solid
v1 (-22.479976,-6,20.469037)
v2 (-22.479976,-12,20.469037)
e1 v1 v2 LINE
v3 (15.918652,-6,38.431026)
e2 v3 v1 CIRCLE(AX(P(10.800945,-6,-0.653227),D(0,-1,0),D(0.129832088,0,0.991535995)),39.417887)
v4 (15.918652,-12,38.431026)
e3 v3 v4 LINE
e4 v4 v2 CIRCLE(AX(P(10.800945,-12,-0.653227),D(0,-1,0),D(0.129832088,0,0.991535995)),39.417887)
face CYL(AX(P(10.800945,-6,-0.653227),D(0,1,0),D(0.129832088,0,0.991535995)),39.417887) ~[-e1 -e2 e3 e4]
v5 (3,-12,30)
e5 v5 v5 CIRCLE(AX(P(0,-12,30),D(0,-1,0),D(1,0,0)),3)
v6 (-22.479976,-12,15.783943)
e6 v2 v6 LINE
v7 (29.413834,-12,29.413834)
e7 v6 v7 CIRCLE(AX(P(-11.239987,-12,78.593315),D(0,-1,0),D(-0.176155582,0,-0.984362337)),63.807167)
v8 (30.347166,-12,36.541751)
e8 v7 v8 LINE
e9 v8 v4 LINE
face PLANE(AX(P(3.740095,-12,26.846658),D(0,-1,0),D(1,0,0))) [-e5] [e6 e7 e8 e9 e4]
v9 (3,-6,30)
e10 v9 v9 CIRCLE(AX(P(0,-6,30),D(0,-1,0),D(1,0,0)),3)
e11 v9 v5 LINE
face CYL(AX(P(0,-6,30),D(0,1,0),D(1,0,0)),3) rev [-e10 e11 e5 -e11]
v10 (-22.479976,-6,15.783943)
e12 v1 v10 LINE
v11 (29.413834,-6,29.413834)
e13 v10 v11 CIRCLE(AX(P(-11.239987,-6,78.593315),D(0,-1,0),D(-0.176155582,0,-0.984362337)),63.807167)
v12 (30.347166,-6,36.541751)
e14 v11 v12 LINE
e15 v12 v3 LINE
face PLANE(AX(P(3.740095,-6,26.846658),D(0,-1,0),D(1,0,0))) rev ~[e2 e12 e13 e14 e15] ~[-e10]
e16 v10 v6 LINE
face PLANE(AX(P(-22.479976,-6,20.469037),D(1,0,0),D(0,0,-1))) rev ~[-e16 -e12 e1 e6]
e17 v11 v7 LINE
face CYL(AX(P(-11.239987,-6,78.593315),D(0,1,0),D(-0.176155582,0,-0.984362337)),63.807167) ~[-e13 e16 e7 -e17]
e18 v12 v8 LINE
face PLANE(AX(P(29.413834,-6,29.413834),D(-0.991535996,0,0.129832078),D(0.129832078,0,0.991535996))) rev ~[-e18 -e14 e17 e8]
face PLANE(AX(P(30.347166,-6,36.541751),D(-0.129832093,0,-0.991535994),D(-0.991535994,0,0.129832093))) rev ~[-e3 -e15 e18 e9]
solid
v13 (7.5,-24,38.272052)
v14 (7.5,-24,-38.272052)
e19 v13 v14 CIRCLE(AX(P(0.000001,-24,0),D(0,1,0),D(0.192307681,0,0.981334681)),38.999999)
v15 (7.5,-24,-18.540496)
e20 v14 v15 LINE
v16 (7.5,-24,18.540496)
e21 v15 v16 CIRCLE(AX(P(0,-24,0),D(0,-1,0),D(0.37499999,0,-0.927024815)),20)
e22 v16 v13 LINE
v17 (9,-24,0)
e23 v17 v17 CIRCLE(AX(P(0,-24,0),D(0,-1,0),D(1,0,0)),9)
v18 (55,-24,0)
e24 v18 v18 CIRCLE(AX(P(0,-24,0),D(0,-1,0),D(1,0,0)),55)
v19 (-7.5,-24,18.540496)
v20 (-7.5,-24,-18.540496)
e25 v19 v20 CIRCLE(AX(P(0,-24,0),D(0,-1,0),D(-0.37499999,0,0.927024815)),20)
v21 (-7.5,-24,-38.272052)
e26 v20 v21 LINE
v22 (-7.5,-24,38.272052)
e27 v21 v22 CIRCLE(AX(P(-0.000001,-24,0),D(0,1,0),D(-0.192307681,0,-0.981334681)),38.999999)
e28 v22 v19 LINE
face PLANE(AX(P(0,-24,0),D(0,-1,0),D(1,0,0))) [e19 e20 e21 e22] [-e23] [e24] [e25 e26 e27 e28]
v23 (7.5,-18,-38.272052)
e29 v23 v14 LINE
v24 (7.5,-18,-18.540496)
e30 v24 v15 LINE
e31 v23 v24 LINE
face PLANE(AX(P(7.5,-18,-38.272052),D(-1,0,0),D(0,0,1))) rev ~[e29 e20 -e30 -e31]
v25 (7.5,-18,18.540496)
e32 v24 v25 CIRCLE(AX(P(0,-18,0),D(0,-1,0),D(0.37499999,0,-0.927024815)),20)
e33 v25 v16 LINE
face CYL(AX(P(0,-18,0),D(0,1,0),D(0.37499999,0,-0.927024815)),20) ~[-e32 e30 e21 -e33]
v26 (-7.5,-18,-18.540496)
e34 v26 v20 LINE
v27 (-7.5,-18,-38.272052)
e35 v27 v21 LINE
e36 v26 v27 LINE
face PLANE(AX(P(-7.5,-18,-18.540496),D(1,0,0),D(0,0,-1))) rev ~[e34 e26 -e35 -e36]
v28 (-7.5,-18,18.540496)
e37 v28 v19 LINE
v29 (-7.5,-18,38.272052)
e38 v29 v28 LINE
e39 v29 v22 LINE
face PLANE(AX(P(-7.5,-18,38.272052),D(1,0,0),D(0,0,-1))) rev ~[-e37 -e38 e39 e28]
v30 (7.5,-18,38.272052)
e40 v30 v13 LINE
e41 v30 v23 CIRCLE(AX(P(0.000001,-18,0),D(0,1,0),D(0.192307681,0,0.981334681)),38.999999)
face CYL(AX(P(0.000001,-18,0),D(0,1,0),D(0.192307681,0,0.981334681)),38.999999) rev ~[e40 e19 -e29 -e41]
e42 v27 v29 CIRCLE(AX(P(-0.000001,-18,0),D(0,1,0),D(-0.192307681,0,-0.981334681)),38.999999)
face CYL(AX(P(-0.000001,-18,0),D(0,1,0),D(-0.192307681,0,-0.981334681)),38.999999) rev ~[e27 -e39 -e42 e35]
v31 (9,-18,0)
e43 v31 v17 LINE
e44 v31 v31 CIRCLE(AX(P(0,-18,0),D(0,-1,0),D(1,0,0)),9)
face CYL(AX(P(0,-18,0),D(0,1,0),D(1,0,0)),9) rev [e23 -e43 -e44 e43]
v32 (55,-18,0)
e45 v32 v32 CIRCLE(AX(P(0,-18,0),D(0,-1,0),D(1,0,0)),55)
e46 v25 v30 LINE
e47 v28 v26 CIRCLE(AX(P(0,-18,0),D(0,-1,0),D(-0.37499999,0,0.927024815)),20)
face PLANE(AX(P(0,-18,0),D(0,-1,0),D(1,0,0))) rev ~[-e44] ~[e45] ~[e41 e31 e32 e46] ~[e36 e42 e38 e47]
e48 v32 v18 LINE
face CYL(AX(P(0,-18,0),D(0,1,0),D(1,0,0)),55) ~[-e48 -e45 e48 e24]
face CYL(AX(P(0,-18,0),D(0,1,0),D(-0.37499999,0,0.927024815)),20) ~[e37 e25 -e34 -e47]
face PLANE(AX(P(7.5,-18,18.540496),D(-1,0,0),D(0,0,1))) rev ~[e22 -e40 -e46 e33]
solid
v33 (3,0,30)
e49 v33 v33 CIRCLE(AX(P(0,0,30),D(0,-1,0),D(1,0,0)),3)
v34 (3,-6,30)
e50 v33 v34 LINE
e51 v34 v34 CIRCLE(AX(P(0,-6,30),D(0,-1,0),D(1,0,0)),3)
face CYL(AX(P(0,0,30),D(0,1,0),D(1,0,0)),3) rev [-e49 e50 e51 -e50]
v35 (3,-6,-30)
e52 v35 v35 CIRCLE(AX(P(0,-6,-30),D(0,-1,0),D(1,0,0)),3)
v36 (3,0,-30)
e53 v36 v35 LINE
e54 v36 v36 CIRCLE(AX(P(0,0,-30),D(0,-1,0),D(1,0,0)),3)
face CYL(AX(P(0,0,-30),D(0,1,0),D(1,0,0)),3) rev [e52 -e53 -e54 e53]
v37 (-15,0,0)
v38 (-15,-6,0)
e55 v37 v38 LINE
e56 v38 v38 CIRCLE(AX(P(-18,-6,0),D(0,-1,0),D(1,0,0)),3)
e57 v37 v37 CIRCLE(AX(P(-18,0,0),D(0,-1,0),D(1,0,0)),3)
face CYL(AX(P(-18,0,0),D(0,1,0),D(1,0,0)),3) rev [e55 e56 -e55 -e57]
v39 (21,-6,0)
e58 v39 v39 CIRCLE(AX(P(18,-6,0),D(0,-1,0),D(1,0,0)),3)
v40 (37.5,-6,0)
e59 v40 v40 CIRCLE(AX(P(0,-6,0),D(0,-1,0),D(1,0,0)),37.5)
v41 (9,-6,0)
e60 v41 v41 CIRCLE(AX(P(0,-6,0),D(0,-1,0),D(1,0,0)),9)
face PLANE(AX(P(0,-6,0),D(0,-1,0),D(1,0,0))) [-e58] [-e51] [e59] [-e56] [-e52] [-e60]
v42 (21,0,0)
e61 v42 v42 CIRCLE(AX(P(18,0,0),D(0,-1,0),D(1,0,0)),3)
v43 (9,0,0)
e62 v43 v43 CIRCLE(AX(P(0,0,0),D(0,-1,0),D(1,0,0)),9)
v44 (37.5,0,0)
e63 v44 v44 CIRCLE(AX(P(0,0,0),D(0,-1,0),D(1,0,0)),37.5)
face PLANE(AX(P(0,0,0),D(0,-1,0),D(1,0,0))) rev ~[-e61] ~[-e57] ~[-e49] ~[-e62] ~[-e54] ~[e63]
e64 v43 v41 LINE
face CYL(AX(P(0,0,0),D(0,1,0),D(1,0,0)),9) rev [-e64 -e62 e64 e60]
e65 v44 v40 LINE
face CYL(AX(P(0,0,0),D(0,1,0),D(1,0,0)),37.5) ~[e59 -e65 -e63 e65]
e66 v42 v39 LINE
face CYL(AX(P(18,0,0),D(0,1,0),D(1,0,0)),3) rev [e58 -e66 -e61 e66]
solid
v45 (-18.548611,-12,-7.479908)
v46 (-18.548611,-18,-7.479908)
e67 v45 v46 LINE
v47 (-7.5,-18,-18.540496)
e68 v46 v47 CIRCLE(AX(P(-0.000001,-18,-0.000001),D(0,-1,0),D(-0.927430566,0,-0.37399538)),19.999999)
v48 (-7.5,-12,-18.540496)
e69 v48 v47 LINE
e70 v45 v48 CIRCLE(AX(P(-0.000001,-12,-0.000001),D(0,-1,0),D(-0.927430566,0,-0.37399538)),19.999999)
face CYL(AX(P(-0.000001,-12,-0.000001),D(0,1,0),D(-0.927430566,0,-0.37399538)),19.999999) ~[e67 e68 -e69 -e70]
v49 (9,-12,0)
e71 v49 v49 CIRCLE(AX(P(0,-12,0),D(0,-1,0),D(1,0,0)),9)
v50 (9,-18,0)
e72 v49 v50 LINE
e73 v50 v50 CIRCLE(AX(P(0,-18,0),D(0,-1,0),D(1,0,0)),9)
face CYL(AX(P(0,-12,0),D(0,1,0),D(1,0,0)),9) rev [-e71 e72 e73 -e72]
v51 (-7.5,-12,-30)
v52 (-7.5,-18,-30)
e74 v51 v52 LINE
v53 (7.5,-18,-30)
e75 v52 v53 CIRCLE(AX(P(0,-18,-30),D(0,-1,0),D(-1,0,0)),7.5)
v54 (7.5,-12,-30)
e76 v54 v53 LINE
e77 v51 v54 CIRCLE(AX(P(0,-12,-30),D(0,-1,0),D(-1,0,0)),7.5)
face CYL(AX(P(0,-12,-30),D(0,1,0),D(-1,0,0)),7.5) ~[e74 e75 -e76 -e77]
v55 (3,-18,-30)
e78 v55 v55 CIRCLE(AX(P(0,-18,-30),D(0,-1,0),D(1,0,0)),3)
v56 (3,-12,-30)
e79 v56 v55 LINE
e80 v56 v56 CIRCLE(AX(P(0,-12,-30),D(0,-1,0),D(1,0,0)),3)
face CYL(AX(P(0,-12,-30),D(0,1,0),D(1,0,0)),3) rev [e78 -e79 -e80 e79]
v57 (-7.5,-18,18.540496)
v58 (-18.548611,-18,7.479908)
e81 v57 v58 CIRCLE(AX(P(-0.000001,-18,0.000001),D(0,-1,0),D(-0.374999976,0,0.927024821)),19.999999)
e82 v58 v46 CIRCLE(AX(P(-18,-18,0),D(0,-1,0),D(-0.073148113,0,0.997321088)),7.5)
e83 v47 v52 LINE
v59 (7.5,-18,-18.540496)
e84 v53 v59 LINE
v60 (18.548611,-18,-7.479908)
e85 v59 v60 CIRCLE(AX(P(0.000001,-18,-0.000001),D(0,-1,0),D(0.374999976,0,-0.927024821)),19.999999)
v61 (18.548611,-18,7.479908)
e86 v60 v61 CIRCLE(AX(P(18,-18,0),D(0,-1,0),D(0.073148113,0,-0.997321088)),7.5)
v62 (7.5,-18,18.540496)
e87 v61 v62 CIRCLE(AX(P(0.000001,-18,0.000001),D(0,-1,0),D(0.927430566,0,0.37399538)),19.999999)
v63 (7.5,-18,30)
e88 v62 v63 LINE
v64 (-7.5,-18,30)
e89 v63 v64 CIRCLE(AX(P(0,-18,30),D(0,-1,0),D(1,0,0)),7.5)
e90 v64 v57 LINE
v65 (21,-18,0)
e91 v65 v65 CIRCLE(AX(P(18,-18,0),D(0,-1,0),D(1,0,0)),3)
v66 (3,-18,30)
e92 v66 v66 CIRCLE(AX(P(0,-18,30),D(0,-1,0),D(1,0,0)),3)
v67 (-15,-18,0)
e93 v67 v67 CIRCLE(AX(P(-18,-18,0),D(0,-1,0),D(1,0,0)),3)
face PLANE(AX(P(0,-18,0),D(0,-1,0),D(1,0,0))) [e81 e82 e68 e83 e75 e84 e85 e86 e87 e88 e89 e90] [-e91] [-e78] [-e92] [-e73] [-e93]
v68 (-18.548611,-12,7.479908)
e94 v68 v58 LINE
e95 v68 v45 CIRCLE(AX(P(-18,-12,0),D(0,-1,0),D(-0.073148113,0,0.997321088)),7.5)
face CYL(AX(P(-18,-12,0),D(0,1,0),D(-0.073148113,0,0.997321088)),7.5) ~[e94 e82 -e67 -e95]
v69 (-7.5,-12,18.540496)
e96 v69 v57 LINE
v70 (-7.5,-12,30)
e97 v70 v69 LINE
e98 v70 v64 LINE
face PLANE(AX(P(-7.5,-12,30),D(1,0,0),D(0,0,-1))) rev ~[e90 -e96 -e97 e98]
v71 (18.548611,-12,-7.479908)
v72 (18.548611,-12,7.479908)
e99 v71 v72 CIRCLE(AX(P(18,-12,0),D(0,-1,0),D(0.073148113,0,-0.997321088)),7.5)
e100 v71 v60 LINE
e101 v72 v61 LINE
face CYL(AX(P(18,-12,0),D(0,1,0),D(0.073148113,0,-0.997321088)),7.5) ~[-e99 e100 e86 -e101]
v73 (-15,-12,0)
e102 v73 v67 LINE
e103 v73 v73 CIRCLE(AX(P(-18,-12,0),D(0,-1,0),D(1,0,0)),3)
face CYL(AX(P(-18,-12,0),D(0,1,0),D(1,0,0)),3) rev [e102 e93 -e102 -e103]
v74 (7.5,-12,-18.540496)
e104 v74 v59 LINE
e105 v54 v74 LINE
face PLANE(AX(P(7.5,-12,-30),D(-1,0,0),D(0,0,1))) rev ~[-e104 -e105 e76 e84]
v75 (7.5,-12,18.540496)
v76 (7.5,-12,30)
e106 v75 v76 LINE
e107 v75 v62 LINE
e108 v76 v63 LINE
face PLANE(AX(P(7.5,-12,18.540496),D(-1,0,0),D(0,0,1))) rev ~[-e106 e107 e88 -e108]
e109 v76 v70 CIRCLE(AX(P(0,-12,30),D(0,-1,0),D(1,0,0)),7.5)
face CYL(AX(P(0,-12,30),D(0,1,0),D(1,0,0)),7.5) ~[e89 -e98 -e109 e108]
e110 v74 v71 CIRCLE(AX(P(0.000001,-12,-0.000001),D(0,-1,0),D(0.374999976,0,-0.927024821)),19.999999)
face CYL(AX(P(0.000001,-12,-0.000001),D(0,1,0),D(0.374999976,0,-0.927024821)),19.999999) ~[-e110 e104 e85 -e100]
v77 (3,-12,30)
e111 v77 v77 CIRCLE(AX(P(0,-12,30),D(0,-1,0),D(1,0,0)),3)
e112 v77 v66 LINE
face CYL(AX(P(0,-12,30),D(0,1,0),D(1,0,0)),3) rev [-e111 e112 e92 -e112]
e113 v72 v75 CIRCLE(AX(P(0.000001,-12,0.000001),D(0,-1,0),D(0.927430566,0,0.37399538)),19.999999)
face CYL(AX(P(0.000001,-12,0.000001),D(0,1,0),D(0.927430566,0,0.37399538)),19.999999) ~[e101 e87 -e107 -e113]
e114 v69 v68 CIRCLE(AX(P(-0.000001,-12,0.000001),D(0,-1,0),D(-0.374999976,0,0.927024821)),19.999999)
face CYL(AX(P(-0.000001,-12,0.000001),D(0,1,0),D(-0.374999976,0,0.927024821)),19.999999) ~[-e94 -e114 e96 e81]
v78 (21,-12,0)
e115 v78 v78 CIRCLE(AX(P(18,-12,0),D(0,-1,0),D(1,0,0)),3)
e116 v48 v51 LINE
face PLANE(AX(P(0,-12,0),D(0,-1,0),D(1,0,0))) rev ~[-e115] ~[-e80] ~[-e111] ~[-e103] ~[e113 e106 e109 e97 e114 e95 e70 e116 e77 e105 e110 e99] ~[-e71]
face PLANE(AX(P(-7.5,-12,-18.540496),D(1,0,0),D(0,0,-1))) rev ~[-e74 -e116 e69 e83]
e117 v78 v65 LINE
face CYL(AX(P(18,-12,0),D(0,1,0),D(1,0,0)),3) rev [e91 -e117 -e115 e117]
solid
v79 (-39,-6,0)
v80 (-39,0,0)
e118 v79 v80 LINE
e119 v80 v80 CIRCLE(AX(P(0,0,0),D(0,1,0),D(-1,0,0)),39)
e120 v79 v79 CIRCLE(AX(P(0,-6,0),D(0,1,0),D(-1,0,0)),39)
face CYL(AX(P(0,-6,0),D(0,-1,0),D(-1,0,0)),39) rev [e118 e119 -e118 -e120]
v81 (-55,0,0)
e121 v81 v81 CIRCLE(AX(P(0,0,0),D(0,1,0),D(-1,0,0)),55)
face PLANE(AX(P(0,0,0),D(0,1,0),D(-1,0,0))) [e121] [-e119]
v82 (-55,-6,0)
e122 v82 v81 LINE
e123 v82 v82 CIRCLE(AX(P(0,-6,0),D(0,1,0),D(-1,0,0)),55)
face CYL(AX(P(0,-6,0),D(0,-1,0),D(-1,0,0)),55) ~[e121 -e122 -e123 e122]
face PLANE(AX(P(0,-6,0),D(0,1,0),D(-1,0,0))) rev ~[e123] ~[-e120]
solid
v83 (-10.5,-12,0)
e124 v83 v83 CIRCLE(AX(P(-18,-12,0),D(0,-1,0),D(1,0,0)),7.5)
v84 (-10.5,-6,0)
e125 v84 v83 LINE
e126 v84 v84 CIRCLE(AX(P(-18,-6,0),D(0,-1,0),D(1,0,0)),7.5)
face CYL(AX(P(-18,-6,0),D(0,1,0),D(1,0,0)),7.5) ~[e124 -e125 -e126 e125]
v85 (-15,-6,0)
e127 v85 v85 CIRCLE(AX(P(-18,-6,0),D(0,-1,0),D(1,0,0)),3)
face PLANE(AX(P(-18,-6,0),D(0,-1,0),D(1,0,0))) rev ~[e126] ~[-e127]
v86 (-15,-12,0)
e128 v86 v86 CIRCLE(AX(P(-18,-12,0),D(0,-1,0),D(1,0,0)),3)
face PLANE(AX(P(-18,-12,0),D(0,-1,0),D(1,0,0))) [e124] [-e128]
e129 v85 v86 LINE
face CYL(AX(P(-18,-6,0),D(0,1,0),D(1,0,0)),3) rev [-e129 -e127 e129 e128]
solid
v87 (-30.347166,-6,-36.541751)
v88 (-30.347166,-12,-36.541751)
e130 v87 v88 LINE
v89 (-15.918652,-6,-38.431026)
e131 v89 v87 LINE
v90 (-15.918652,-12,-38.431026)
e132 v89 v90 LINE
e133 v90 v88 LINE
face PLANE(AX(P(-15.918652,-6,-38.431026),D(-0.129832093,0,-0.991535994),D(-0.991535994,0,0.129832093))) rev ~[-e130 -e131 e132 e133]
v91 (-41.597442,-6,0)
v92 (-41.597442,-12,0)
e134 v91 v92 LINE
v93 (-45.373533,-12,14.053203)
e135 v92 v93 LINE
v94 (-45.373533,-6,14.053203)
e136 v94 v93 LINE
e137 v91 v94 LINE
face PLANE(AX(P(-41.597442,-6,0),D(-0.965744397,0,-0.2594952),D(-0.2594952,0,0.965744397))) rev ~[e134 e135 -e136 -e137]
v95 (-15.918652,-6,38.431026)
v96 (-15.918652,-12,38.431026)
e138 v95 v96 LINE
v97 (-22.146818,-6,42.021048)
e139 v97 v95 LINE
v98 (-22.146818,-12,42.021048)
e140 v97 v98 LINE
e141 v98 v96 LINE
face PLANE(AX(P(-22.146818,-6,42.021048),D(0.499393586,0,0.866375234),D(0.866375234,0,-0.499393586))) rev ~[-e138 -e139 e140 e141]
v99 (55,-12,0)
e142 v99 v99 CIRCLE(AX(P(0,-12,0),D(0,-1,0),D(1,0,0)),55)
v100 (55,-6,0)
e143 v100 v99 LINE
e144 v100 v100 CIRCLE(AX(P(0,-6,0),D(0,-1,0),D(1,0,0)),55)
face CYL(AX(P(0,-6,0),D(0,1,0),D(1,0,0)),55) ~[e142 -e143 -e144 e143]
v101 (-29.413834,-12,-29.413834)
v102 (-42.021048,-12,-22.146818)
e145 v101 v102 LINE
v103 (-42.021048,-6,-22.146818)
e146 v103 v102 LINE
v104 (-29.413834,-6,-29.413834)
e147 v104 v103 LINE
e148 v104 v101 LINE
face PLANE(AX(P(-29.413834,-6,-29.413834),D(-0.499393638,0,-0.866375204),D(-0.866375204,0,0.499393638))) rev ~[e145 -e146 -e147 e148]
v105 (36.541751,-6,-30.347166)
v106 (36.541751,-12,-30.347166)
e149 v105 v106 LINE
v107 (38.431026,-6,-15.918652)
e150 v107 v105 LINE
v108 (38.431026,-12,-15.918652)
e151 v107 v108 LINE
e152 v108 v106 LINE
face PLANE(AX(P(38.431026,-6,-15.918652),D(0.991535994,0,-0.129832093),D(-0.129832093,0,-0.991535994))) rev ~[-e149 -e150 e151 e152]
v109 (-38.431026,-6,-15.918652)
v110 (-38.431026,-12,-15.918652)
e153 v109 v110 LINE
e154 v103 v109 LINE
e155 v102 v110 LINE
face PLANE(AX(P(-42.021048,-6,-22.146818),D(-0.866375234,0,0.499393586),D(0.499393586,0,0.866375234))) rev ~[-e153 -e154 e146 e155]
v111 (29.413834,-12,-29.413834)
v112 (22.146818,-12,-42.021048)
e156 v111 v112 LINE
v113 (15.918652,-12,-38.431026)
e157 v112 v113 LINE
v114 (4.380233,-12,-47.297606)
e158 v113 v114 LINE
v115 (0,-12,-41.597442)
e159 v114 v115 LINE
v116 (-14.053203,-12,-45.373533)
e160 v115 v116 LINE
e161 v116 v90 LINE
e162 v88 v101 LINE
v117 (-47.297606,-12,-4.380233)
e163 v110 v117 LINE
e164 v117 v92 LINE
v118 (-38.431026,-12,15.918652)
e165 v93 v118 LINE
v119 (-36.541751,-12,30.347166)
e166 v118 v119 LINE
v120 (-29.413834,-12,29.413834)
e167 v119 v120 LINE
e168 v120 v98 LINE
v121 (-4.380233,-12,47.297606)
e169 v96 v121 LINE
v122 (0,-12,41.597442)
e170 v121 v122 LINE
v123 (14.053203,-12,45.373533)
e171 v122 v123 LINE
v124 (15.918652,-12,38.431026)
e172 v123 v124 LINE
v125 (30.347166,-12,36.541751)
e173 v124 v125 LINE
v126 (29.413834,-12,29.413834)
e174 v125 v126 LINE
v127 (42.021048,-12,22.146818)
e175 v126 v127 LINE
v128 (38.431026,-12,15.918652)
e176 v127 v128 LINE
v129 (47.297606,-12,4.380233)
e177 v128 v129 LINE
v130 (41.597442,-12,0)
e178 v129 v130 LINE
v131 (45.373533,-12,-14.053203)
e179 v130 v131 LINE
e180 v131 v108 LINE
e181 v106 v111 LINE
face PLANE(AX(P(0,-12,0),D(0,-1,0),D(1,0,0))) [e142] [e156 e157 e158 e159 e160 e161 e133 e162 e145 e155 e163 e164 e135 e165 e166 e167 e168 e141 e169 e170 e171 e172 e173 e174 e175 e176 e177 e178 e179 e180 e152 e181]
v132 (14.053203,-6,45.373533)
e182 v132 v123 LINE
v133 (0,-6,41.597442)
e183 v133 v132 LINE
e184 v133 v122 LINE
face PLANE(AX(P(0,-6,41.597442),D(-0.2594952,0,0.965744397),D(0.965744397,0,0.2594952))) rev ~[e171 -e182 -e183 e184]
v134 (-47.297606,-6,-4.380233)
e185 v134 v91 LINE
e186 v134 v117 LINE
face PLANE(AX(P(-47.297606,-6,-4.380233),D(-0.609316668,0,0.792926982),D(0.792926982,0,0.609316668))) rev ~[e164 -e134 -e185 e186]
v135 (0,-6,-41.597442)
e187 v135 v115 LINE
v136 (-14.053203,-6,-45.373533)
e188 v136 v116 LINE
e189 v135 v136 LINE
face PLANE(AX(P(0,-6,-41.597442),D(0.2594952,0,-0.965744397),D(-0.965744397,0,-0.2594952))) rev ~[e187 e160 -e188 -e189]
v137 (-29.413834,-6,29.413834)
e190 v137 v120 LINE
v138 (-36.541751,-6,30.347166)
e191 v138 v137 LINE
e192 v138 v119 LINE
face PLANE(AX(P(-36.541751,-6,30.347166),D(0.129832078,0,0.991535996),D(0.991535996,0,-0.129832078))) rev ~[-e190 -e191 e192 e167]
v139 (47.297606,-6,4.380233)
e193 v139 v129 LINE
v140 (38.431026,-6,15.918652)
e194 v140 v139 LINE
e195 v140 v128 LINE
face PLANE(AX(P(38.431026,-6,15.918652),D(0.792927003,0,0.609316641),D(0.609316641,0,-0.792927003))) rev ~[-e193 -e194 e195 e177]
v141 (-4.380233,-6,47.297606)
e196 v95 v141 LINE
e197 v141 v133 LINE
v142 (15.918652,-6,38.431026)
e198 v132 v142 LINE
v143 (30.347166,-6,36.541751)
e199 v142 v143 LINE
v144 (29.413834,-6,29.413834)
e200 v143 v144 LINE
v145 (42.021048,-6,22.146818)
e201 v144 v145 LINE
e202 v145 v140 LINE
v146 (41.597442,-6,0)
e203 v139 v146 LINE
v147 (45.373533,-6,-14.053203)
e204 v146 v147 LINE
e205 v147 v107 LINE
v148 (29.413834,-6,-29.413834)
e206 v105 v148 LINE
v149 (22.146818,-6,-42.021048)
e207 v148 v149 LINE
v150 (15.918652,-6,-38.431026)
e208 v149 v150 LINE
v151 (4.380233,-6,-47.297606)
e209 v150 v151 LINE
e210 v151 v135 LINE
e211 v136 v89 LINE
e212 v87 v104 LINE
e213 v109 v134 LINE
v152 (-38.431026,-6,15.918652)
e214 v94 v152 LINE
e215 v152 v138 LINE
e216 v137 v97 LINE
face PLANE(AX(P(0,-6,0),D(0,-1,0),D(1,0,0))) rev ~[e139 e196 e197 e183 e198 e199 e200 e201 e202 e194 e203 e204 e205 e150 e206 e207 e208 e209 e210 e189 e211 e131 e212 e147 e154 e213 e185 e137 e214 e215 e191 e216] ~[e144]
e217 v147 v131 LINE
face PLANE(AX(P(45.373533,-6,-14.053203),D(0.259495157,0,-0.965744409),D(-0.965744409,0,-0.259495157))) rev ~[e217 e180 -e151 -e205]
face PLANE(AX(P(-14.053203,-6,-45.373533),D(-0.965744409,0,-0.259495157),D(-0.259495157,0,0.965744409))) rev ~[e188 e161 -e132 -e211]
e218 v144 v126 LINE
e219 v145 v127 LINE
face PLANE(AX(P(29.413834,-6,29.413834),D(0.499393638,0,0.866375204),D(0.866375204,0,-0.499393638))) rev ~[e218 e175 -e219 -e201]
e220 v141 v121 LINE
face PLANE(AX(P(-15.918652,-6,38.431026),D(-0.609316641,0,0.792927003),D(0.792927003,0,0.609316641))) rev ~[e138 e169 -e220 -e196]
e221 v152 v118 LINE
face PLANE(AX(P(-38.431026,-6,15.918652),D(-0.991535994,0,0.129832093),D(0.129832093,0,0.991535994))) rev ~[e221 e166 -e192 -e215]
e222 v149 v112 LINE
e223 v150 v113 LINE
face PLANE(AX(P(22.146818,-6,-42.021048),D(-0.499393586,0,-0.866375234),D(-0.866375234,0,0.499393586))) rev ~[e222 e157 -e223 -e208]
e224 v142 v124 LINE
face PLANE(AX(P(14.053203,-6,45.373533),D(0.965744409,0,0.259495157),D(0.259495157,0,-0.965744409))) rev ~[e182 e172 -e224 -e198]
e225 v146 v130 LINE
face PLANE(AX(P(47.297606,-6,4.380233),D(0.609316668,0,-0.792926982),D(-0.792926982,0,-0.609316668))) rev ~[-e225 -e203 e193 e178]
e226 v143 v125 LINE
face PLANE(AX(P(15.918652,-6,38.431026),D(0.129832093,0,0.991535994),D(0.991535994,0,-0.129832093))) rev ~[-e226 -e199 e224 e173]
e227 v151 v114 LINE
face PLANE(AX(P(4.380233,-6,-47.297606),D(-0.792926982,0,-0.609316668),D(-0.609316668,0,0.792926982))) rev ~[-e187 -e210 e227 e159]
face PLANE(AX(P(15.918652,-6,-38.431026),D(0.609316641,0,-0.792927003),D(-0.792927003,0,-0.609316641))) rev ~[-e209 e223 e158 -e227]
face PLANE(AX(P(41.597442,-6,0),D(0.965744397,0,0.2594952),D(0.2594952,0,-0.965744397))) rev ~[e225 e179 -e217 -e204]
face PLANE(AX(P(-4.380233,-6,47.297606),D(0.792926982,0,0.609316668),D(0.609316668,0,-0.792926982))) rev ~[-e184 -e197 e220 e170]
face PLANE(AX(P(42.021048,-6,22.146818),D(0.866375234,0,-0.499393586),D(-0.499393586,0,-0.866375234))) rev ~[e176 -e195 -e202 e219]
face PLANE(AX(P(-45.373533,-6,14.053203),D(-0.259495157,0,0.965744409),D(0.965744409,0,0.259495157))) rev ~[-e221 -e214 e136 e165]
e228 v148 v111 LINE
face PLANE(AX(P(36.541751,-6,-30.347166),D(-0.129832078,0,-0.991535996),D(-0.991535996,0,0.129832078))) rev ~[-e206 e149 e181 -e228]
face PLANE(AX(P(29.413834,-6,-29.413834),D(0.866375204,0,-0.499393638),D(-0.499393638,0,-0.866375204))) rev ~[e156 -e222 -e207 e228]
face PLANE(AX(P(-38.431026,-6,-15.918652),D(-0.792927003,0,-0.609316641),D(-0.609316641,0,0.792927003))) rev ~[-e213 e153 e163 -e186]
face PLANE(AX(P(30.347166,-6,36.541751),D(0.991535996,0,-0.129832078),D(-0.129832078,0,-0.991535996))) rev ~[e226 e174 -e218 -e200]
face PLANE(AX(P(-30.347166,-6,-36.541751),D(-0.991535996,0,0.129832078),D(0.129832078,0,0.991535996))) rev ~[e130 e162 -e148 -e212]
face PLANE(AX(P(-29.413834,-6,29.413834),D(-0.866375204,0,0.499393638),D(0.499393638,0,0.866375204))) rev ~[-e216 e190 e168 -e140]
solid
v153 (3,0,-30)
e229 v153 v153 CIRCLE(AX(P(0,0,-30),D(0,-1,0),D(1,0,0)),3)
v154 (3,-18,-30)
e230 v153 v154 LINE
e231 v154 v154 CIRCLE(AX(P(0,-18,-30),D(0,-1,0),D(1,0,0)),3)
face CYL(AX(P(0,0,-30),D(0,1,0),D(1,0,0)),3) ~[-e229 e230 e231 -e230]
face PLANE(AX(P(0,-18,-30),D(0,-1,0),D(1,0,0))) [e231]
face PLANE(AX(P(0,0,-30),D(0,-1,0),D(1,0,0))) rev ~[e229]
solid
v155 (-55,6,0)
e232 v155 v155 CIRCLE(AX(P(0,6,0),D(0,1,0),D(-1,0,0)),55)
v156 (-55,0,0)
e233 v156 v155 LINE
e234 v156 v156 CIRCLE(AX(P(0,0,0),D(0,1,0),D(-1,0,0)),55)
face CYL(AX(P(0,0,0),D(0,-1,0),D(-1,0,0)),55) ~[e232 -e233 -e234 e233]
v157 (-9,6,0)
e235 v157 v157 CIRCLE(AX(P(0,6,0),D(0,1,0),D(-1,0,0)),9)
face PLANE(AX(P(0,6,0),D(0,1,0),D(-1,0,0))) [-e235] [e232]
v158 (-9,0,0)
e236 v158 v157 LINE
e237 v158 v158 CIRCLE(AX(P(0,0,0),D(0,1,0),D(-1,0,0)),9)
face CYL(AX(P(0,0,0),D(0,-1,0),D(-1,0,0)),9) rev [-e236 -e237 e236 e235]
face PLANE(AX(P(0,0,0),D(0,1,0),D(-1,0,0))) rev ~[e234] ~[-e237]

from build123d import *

# Parameters (mm, degrees)
F1_R      = 37.5
F1_R_2    = 3
F1_R_3    = 9
F2_DEPTH  = 6
F3_R      = 55
F4_DEPTH  = 6
F5_R      = 3
F6_DEPTH  = 6
F7_R      = 3
F8_DEPTH  = 18
F9_R      = 55
F9_R_2    = 39
F10_DEPTH = 6
F11_R     = 55
F11_R_2   = 9
F12_DEPTH = 6
F13_R     = 3
F13_R_2   = 9
F14_DEPTH = 6
F15_R     = 55
F15_R_2   = 9
F16_DEPTH = 6
F17_R     = 7.5
F17_R_2   = 3
F18_DEPTH = 6


with BuildPart() as f2:
    # F1 (on Front) → F2 (new body)
    with BuildSketch(Plane.XZ):
        Circle(F1_R)
        with Locations((0, -30)):
            Circle(F1_R_2, mode=Mode.SUBTRACT)
        with Locations((-18, 0)):
            Circle(F1_R_2, mode=Mode.SUBTRACT)
        Circle(F1_R_3, mode=Mode.SUBTRACT)
        with Locations((18, 0)):
            Circle(F1_R_2, mode=Mode.SUBTRACT)
        with Locations((0, 30)):
            Circle(F1_R_2, mode=Mode.SUBTRACT)
    extrude(amount=F2_DEPTH)


with BuildPart() as f4:
    # F3 (on face) → F4 (new body)
    with BuildSketch(Plane.XZ.offset(6)):
        Circle(F3_R)
        Polygon((42.021048, 22.146818), (38.431026, 15.918652), (47.297606, 4.380233), (41.597442, 0), (45.373533, -14.053203), (38.431026, -15.918652), (36.541751, -30.347166), (29.413834, -29.413834), (22.146818, -42.021048), (15.918652, -38.431026), (4.380233, -47.297606), (0, -41.597442), (-14.053203, -45.373533), (-15.918652, -38.431026), (-30.347166, -36.541751), (-29.413834, -29.413834), (-42.021048, -22.146818), (-38.431026, -15.918652), (-47.297606, -4.380233), (-41.597442, 0), (-45.373533, 14.053203), (-38.431026, 15.918652), (-36.541751, 30.347166), (-29.413834, 29.413834), (-22.146818, 42.021048), (-15.918652, 38.431026), (-4.380233, 47.297606), (0, 41.597442), (14.053203, 45.373533), (15.918652, 38.431026), (30.347166, 36.541751), (29.413834, 29.413834), align=None, mode=Mode.SUBTRACT)
    extrude(amount=F4_DEPTH)


with BuildPart() as f6:
    # F5 (on face) → F6 (new body)
    with BuildSketch(Plane.XZ.offset(6)):
        with BuildLine():
            Line((29.413834, 29.413834), (30.347166, 36.541751))
            Line((30.347166, 36.541751), (15.918652, 38.431026))
            ThreePointArc((15.918652, 38.431026), (-5.900849, 35.051392), (-22.479976, 20.469037))
            Line((-22.479976, 20.469037), (-22.479976, 15.783943))
            ThreePointArc((-22.479976, 15.783943), (4.969173, 16.879316), (29.413834, 29.413834))
        make_face()
        with Locations((0, 30)):
            Circle(F5_R, mode=Mode.SUBTRACT)
    extrude(amount=F6_DEPTH)


with BuildPart() as f8:
    # F7 (on Front) → F8 (new body)
    with BuildSketch(Plane.XZ):
        with Locations((0, -30)):
            Circle(F7_R)
    extrude(amount=F8_DEPTH)


with BuildPart() as f10:
    # F9 (on face) → F10 (new body)
    with BuildSketch(Plane(origin=(0, -6, 0), x_dir=(-1, 0, 0), z_dir=(0, 1, 0))):
        Circle(F9_R)
        Circle(F9_R_2, mode=Mode.SUBTRACT)
    extrude(amount=F10_DEPTH)


with BuildPart() as f12:
    # F11 (on face) → F12 (new body)
    with BuildSketch(Plane(origin=(0, 0, 0), x_dir=(-1, 0, 0), z_dir=(0, 1, 0))):
        Circle(F11_R)
        Circle(F11_R_2, mode=Mode.SUBTRACT)
    extrude(amount=F12_DEPTH)


with BuildPart() as f14:
    # F13 (on face) → F14 (new body)
    with BuildSketch(Plane.XZ.offset(12)):
        with BuildLine():
            Line((7.5, 18.540496), (7.5, 30))
            ThreePointArc((7.5, 30), (0, 37.5), (-7.5, 30))
            Line((-7.5, 30), (-7.5, 18.540496))
            ThreePointArc((-7.5, 18.540496), (-14.149795, 14.134472), (-18.548611, 7.479908))
            ThreePointArc((-18.548611, 7.479908), (-25.5, 0), (-18.548611, -7.479908))
            ThreePointArc((-18.548611, -7.479908), (-14.149795, -14.134472), (-7.5, -18.540496))
            Line((-7.5, -18.540496), (-7.5, -30))
            ThreePointArc((-7.5, -30), (0, -37.5), (7.5, -30))
            Line((7.5, -30), (7.5, -18.540496))
            ThreePointArc((7.5, -18.540496), (14.149795, -14.134472), (18.548611, -7.479908))
            ThreePointArc((18.548611, -7.479908), (25.5, 0), (18.548611, 7.479908))
            ThreePointArc((18.548611, 7.479908), (14.149795, 14.134472), (7.5, 18.540496))
        make_face()
        with Locations((0, -30)):
            Circle(F13_R, mode=Mode.SUBTRACT)
        with Locations((-18, 0)):
            Circle(F13_R, mode=Mode.SUBTRACT)
        Circle(F13_R_2, mode=Mode.SUBTRACT)
        with Locations((18, 0)):
            Circle(F13_R, mode=Mode.SUBTRACT)
        with Locations((0, 30)):
            Circle(F13_R, mode=Mode.SUBTRACT)
    extrude(amount=F14_DEPTH)


with BuildPart() as f16:
    # F15 (on face) → F16 (new body)
    with BuildSketch(Plane.XZ.offset(18)):
        Circle(F15_R)
        with BuildLine():
            ThreePointArc((-7.5, -38.272052), (-39, 0), (-7.5, 38.272052))
            Line((-7.5, 38.272052), (-7.5, 18.540496))
            ThreePointArc((-7.5, 18.540496), (-20, 0), (-7.5, -18.540496))
            Line((-7.5, -18.540496), (-7.5, -38.272052))
        make_face(mode=Mode.SUBTRACT)
        Circle(F15_R_2, mode=Mode.SUBTRACT)
        with BuildLine():
            ThreePointArc((7.5, -18.540496), (20, 0), (7.5, 18.540496))
            Line((7.5, 18.540496), (7.5, 38.272052))
            ThreePointArc((7.5, 38.272052), (39, 0), (7.5, -38.272052))
            Line((7.5, -38.272052), (7.5, -18.540496))
        make_face(mode=Mode.SUBTRACT)
    extrude(amount=F16_DEPTH)


with BuildPart() as f18:
    # F17 (on face) → F18 (new body)
    with BuildSketch(Plane.XZ.offset(6)):
        with Locations((-18, 0)):
            Circle(F17_R)
        with Locations((-18, 0)):
            Circle(F17_R_2, mode=Mode.SUBTRACT)
    extrude(amount=F18_DEPTH)


solid = Compound([f2.part, f4.part, f6.part, f8.part, f10.part, f12.part, f14.part, f16.part, f18.part])
